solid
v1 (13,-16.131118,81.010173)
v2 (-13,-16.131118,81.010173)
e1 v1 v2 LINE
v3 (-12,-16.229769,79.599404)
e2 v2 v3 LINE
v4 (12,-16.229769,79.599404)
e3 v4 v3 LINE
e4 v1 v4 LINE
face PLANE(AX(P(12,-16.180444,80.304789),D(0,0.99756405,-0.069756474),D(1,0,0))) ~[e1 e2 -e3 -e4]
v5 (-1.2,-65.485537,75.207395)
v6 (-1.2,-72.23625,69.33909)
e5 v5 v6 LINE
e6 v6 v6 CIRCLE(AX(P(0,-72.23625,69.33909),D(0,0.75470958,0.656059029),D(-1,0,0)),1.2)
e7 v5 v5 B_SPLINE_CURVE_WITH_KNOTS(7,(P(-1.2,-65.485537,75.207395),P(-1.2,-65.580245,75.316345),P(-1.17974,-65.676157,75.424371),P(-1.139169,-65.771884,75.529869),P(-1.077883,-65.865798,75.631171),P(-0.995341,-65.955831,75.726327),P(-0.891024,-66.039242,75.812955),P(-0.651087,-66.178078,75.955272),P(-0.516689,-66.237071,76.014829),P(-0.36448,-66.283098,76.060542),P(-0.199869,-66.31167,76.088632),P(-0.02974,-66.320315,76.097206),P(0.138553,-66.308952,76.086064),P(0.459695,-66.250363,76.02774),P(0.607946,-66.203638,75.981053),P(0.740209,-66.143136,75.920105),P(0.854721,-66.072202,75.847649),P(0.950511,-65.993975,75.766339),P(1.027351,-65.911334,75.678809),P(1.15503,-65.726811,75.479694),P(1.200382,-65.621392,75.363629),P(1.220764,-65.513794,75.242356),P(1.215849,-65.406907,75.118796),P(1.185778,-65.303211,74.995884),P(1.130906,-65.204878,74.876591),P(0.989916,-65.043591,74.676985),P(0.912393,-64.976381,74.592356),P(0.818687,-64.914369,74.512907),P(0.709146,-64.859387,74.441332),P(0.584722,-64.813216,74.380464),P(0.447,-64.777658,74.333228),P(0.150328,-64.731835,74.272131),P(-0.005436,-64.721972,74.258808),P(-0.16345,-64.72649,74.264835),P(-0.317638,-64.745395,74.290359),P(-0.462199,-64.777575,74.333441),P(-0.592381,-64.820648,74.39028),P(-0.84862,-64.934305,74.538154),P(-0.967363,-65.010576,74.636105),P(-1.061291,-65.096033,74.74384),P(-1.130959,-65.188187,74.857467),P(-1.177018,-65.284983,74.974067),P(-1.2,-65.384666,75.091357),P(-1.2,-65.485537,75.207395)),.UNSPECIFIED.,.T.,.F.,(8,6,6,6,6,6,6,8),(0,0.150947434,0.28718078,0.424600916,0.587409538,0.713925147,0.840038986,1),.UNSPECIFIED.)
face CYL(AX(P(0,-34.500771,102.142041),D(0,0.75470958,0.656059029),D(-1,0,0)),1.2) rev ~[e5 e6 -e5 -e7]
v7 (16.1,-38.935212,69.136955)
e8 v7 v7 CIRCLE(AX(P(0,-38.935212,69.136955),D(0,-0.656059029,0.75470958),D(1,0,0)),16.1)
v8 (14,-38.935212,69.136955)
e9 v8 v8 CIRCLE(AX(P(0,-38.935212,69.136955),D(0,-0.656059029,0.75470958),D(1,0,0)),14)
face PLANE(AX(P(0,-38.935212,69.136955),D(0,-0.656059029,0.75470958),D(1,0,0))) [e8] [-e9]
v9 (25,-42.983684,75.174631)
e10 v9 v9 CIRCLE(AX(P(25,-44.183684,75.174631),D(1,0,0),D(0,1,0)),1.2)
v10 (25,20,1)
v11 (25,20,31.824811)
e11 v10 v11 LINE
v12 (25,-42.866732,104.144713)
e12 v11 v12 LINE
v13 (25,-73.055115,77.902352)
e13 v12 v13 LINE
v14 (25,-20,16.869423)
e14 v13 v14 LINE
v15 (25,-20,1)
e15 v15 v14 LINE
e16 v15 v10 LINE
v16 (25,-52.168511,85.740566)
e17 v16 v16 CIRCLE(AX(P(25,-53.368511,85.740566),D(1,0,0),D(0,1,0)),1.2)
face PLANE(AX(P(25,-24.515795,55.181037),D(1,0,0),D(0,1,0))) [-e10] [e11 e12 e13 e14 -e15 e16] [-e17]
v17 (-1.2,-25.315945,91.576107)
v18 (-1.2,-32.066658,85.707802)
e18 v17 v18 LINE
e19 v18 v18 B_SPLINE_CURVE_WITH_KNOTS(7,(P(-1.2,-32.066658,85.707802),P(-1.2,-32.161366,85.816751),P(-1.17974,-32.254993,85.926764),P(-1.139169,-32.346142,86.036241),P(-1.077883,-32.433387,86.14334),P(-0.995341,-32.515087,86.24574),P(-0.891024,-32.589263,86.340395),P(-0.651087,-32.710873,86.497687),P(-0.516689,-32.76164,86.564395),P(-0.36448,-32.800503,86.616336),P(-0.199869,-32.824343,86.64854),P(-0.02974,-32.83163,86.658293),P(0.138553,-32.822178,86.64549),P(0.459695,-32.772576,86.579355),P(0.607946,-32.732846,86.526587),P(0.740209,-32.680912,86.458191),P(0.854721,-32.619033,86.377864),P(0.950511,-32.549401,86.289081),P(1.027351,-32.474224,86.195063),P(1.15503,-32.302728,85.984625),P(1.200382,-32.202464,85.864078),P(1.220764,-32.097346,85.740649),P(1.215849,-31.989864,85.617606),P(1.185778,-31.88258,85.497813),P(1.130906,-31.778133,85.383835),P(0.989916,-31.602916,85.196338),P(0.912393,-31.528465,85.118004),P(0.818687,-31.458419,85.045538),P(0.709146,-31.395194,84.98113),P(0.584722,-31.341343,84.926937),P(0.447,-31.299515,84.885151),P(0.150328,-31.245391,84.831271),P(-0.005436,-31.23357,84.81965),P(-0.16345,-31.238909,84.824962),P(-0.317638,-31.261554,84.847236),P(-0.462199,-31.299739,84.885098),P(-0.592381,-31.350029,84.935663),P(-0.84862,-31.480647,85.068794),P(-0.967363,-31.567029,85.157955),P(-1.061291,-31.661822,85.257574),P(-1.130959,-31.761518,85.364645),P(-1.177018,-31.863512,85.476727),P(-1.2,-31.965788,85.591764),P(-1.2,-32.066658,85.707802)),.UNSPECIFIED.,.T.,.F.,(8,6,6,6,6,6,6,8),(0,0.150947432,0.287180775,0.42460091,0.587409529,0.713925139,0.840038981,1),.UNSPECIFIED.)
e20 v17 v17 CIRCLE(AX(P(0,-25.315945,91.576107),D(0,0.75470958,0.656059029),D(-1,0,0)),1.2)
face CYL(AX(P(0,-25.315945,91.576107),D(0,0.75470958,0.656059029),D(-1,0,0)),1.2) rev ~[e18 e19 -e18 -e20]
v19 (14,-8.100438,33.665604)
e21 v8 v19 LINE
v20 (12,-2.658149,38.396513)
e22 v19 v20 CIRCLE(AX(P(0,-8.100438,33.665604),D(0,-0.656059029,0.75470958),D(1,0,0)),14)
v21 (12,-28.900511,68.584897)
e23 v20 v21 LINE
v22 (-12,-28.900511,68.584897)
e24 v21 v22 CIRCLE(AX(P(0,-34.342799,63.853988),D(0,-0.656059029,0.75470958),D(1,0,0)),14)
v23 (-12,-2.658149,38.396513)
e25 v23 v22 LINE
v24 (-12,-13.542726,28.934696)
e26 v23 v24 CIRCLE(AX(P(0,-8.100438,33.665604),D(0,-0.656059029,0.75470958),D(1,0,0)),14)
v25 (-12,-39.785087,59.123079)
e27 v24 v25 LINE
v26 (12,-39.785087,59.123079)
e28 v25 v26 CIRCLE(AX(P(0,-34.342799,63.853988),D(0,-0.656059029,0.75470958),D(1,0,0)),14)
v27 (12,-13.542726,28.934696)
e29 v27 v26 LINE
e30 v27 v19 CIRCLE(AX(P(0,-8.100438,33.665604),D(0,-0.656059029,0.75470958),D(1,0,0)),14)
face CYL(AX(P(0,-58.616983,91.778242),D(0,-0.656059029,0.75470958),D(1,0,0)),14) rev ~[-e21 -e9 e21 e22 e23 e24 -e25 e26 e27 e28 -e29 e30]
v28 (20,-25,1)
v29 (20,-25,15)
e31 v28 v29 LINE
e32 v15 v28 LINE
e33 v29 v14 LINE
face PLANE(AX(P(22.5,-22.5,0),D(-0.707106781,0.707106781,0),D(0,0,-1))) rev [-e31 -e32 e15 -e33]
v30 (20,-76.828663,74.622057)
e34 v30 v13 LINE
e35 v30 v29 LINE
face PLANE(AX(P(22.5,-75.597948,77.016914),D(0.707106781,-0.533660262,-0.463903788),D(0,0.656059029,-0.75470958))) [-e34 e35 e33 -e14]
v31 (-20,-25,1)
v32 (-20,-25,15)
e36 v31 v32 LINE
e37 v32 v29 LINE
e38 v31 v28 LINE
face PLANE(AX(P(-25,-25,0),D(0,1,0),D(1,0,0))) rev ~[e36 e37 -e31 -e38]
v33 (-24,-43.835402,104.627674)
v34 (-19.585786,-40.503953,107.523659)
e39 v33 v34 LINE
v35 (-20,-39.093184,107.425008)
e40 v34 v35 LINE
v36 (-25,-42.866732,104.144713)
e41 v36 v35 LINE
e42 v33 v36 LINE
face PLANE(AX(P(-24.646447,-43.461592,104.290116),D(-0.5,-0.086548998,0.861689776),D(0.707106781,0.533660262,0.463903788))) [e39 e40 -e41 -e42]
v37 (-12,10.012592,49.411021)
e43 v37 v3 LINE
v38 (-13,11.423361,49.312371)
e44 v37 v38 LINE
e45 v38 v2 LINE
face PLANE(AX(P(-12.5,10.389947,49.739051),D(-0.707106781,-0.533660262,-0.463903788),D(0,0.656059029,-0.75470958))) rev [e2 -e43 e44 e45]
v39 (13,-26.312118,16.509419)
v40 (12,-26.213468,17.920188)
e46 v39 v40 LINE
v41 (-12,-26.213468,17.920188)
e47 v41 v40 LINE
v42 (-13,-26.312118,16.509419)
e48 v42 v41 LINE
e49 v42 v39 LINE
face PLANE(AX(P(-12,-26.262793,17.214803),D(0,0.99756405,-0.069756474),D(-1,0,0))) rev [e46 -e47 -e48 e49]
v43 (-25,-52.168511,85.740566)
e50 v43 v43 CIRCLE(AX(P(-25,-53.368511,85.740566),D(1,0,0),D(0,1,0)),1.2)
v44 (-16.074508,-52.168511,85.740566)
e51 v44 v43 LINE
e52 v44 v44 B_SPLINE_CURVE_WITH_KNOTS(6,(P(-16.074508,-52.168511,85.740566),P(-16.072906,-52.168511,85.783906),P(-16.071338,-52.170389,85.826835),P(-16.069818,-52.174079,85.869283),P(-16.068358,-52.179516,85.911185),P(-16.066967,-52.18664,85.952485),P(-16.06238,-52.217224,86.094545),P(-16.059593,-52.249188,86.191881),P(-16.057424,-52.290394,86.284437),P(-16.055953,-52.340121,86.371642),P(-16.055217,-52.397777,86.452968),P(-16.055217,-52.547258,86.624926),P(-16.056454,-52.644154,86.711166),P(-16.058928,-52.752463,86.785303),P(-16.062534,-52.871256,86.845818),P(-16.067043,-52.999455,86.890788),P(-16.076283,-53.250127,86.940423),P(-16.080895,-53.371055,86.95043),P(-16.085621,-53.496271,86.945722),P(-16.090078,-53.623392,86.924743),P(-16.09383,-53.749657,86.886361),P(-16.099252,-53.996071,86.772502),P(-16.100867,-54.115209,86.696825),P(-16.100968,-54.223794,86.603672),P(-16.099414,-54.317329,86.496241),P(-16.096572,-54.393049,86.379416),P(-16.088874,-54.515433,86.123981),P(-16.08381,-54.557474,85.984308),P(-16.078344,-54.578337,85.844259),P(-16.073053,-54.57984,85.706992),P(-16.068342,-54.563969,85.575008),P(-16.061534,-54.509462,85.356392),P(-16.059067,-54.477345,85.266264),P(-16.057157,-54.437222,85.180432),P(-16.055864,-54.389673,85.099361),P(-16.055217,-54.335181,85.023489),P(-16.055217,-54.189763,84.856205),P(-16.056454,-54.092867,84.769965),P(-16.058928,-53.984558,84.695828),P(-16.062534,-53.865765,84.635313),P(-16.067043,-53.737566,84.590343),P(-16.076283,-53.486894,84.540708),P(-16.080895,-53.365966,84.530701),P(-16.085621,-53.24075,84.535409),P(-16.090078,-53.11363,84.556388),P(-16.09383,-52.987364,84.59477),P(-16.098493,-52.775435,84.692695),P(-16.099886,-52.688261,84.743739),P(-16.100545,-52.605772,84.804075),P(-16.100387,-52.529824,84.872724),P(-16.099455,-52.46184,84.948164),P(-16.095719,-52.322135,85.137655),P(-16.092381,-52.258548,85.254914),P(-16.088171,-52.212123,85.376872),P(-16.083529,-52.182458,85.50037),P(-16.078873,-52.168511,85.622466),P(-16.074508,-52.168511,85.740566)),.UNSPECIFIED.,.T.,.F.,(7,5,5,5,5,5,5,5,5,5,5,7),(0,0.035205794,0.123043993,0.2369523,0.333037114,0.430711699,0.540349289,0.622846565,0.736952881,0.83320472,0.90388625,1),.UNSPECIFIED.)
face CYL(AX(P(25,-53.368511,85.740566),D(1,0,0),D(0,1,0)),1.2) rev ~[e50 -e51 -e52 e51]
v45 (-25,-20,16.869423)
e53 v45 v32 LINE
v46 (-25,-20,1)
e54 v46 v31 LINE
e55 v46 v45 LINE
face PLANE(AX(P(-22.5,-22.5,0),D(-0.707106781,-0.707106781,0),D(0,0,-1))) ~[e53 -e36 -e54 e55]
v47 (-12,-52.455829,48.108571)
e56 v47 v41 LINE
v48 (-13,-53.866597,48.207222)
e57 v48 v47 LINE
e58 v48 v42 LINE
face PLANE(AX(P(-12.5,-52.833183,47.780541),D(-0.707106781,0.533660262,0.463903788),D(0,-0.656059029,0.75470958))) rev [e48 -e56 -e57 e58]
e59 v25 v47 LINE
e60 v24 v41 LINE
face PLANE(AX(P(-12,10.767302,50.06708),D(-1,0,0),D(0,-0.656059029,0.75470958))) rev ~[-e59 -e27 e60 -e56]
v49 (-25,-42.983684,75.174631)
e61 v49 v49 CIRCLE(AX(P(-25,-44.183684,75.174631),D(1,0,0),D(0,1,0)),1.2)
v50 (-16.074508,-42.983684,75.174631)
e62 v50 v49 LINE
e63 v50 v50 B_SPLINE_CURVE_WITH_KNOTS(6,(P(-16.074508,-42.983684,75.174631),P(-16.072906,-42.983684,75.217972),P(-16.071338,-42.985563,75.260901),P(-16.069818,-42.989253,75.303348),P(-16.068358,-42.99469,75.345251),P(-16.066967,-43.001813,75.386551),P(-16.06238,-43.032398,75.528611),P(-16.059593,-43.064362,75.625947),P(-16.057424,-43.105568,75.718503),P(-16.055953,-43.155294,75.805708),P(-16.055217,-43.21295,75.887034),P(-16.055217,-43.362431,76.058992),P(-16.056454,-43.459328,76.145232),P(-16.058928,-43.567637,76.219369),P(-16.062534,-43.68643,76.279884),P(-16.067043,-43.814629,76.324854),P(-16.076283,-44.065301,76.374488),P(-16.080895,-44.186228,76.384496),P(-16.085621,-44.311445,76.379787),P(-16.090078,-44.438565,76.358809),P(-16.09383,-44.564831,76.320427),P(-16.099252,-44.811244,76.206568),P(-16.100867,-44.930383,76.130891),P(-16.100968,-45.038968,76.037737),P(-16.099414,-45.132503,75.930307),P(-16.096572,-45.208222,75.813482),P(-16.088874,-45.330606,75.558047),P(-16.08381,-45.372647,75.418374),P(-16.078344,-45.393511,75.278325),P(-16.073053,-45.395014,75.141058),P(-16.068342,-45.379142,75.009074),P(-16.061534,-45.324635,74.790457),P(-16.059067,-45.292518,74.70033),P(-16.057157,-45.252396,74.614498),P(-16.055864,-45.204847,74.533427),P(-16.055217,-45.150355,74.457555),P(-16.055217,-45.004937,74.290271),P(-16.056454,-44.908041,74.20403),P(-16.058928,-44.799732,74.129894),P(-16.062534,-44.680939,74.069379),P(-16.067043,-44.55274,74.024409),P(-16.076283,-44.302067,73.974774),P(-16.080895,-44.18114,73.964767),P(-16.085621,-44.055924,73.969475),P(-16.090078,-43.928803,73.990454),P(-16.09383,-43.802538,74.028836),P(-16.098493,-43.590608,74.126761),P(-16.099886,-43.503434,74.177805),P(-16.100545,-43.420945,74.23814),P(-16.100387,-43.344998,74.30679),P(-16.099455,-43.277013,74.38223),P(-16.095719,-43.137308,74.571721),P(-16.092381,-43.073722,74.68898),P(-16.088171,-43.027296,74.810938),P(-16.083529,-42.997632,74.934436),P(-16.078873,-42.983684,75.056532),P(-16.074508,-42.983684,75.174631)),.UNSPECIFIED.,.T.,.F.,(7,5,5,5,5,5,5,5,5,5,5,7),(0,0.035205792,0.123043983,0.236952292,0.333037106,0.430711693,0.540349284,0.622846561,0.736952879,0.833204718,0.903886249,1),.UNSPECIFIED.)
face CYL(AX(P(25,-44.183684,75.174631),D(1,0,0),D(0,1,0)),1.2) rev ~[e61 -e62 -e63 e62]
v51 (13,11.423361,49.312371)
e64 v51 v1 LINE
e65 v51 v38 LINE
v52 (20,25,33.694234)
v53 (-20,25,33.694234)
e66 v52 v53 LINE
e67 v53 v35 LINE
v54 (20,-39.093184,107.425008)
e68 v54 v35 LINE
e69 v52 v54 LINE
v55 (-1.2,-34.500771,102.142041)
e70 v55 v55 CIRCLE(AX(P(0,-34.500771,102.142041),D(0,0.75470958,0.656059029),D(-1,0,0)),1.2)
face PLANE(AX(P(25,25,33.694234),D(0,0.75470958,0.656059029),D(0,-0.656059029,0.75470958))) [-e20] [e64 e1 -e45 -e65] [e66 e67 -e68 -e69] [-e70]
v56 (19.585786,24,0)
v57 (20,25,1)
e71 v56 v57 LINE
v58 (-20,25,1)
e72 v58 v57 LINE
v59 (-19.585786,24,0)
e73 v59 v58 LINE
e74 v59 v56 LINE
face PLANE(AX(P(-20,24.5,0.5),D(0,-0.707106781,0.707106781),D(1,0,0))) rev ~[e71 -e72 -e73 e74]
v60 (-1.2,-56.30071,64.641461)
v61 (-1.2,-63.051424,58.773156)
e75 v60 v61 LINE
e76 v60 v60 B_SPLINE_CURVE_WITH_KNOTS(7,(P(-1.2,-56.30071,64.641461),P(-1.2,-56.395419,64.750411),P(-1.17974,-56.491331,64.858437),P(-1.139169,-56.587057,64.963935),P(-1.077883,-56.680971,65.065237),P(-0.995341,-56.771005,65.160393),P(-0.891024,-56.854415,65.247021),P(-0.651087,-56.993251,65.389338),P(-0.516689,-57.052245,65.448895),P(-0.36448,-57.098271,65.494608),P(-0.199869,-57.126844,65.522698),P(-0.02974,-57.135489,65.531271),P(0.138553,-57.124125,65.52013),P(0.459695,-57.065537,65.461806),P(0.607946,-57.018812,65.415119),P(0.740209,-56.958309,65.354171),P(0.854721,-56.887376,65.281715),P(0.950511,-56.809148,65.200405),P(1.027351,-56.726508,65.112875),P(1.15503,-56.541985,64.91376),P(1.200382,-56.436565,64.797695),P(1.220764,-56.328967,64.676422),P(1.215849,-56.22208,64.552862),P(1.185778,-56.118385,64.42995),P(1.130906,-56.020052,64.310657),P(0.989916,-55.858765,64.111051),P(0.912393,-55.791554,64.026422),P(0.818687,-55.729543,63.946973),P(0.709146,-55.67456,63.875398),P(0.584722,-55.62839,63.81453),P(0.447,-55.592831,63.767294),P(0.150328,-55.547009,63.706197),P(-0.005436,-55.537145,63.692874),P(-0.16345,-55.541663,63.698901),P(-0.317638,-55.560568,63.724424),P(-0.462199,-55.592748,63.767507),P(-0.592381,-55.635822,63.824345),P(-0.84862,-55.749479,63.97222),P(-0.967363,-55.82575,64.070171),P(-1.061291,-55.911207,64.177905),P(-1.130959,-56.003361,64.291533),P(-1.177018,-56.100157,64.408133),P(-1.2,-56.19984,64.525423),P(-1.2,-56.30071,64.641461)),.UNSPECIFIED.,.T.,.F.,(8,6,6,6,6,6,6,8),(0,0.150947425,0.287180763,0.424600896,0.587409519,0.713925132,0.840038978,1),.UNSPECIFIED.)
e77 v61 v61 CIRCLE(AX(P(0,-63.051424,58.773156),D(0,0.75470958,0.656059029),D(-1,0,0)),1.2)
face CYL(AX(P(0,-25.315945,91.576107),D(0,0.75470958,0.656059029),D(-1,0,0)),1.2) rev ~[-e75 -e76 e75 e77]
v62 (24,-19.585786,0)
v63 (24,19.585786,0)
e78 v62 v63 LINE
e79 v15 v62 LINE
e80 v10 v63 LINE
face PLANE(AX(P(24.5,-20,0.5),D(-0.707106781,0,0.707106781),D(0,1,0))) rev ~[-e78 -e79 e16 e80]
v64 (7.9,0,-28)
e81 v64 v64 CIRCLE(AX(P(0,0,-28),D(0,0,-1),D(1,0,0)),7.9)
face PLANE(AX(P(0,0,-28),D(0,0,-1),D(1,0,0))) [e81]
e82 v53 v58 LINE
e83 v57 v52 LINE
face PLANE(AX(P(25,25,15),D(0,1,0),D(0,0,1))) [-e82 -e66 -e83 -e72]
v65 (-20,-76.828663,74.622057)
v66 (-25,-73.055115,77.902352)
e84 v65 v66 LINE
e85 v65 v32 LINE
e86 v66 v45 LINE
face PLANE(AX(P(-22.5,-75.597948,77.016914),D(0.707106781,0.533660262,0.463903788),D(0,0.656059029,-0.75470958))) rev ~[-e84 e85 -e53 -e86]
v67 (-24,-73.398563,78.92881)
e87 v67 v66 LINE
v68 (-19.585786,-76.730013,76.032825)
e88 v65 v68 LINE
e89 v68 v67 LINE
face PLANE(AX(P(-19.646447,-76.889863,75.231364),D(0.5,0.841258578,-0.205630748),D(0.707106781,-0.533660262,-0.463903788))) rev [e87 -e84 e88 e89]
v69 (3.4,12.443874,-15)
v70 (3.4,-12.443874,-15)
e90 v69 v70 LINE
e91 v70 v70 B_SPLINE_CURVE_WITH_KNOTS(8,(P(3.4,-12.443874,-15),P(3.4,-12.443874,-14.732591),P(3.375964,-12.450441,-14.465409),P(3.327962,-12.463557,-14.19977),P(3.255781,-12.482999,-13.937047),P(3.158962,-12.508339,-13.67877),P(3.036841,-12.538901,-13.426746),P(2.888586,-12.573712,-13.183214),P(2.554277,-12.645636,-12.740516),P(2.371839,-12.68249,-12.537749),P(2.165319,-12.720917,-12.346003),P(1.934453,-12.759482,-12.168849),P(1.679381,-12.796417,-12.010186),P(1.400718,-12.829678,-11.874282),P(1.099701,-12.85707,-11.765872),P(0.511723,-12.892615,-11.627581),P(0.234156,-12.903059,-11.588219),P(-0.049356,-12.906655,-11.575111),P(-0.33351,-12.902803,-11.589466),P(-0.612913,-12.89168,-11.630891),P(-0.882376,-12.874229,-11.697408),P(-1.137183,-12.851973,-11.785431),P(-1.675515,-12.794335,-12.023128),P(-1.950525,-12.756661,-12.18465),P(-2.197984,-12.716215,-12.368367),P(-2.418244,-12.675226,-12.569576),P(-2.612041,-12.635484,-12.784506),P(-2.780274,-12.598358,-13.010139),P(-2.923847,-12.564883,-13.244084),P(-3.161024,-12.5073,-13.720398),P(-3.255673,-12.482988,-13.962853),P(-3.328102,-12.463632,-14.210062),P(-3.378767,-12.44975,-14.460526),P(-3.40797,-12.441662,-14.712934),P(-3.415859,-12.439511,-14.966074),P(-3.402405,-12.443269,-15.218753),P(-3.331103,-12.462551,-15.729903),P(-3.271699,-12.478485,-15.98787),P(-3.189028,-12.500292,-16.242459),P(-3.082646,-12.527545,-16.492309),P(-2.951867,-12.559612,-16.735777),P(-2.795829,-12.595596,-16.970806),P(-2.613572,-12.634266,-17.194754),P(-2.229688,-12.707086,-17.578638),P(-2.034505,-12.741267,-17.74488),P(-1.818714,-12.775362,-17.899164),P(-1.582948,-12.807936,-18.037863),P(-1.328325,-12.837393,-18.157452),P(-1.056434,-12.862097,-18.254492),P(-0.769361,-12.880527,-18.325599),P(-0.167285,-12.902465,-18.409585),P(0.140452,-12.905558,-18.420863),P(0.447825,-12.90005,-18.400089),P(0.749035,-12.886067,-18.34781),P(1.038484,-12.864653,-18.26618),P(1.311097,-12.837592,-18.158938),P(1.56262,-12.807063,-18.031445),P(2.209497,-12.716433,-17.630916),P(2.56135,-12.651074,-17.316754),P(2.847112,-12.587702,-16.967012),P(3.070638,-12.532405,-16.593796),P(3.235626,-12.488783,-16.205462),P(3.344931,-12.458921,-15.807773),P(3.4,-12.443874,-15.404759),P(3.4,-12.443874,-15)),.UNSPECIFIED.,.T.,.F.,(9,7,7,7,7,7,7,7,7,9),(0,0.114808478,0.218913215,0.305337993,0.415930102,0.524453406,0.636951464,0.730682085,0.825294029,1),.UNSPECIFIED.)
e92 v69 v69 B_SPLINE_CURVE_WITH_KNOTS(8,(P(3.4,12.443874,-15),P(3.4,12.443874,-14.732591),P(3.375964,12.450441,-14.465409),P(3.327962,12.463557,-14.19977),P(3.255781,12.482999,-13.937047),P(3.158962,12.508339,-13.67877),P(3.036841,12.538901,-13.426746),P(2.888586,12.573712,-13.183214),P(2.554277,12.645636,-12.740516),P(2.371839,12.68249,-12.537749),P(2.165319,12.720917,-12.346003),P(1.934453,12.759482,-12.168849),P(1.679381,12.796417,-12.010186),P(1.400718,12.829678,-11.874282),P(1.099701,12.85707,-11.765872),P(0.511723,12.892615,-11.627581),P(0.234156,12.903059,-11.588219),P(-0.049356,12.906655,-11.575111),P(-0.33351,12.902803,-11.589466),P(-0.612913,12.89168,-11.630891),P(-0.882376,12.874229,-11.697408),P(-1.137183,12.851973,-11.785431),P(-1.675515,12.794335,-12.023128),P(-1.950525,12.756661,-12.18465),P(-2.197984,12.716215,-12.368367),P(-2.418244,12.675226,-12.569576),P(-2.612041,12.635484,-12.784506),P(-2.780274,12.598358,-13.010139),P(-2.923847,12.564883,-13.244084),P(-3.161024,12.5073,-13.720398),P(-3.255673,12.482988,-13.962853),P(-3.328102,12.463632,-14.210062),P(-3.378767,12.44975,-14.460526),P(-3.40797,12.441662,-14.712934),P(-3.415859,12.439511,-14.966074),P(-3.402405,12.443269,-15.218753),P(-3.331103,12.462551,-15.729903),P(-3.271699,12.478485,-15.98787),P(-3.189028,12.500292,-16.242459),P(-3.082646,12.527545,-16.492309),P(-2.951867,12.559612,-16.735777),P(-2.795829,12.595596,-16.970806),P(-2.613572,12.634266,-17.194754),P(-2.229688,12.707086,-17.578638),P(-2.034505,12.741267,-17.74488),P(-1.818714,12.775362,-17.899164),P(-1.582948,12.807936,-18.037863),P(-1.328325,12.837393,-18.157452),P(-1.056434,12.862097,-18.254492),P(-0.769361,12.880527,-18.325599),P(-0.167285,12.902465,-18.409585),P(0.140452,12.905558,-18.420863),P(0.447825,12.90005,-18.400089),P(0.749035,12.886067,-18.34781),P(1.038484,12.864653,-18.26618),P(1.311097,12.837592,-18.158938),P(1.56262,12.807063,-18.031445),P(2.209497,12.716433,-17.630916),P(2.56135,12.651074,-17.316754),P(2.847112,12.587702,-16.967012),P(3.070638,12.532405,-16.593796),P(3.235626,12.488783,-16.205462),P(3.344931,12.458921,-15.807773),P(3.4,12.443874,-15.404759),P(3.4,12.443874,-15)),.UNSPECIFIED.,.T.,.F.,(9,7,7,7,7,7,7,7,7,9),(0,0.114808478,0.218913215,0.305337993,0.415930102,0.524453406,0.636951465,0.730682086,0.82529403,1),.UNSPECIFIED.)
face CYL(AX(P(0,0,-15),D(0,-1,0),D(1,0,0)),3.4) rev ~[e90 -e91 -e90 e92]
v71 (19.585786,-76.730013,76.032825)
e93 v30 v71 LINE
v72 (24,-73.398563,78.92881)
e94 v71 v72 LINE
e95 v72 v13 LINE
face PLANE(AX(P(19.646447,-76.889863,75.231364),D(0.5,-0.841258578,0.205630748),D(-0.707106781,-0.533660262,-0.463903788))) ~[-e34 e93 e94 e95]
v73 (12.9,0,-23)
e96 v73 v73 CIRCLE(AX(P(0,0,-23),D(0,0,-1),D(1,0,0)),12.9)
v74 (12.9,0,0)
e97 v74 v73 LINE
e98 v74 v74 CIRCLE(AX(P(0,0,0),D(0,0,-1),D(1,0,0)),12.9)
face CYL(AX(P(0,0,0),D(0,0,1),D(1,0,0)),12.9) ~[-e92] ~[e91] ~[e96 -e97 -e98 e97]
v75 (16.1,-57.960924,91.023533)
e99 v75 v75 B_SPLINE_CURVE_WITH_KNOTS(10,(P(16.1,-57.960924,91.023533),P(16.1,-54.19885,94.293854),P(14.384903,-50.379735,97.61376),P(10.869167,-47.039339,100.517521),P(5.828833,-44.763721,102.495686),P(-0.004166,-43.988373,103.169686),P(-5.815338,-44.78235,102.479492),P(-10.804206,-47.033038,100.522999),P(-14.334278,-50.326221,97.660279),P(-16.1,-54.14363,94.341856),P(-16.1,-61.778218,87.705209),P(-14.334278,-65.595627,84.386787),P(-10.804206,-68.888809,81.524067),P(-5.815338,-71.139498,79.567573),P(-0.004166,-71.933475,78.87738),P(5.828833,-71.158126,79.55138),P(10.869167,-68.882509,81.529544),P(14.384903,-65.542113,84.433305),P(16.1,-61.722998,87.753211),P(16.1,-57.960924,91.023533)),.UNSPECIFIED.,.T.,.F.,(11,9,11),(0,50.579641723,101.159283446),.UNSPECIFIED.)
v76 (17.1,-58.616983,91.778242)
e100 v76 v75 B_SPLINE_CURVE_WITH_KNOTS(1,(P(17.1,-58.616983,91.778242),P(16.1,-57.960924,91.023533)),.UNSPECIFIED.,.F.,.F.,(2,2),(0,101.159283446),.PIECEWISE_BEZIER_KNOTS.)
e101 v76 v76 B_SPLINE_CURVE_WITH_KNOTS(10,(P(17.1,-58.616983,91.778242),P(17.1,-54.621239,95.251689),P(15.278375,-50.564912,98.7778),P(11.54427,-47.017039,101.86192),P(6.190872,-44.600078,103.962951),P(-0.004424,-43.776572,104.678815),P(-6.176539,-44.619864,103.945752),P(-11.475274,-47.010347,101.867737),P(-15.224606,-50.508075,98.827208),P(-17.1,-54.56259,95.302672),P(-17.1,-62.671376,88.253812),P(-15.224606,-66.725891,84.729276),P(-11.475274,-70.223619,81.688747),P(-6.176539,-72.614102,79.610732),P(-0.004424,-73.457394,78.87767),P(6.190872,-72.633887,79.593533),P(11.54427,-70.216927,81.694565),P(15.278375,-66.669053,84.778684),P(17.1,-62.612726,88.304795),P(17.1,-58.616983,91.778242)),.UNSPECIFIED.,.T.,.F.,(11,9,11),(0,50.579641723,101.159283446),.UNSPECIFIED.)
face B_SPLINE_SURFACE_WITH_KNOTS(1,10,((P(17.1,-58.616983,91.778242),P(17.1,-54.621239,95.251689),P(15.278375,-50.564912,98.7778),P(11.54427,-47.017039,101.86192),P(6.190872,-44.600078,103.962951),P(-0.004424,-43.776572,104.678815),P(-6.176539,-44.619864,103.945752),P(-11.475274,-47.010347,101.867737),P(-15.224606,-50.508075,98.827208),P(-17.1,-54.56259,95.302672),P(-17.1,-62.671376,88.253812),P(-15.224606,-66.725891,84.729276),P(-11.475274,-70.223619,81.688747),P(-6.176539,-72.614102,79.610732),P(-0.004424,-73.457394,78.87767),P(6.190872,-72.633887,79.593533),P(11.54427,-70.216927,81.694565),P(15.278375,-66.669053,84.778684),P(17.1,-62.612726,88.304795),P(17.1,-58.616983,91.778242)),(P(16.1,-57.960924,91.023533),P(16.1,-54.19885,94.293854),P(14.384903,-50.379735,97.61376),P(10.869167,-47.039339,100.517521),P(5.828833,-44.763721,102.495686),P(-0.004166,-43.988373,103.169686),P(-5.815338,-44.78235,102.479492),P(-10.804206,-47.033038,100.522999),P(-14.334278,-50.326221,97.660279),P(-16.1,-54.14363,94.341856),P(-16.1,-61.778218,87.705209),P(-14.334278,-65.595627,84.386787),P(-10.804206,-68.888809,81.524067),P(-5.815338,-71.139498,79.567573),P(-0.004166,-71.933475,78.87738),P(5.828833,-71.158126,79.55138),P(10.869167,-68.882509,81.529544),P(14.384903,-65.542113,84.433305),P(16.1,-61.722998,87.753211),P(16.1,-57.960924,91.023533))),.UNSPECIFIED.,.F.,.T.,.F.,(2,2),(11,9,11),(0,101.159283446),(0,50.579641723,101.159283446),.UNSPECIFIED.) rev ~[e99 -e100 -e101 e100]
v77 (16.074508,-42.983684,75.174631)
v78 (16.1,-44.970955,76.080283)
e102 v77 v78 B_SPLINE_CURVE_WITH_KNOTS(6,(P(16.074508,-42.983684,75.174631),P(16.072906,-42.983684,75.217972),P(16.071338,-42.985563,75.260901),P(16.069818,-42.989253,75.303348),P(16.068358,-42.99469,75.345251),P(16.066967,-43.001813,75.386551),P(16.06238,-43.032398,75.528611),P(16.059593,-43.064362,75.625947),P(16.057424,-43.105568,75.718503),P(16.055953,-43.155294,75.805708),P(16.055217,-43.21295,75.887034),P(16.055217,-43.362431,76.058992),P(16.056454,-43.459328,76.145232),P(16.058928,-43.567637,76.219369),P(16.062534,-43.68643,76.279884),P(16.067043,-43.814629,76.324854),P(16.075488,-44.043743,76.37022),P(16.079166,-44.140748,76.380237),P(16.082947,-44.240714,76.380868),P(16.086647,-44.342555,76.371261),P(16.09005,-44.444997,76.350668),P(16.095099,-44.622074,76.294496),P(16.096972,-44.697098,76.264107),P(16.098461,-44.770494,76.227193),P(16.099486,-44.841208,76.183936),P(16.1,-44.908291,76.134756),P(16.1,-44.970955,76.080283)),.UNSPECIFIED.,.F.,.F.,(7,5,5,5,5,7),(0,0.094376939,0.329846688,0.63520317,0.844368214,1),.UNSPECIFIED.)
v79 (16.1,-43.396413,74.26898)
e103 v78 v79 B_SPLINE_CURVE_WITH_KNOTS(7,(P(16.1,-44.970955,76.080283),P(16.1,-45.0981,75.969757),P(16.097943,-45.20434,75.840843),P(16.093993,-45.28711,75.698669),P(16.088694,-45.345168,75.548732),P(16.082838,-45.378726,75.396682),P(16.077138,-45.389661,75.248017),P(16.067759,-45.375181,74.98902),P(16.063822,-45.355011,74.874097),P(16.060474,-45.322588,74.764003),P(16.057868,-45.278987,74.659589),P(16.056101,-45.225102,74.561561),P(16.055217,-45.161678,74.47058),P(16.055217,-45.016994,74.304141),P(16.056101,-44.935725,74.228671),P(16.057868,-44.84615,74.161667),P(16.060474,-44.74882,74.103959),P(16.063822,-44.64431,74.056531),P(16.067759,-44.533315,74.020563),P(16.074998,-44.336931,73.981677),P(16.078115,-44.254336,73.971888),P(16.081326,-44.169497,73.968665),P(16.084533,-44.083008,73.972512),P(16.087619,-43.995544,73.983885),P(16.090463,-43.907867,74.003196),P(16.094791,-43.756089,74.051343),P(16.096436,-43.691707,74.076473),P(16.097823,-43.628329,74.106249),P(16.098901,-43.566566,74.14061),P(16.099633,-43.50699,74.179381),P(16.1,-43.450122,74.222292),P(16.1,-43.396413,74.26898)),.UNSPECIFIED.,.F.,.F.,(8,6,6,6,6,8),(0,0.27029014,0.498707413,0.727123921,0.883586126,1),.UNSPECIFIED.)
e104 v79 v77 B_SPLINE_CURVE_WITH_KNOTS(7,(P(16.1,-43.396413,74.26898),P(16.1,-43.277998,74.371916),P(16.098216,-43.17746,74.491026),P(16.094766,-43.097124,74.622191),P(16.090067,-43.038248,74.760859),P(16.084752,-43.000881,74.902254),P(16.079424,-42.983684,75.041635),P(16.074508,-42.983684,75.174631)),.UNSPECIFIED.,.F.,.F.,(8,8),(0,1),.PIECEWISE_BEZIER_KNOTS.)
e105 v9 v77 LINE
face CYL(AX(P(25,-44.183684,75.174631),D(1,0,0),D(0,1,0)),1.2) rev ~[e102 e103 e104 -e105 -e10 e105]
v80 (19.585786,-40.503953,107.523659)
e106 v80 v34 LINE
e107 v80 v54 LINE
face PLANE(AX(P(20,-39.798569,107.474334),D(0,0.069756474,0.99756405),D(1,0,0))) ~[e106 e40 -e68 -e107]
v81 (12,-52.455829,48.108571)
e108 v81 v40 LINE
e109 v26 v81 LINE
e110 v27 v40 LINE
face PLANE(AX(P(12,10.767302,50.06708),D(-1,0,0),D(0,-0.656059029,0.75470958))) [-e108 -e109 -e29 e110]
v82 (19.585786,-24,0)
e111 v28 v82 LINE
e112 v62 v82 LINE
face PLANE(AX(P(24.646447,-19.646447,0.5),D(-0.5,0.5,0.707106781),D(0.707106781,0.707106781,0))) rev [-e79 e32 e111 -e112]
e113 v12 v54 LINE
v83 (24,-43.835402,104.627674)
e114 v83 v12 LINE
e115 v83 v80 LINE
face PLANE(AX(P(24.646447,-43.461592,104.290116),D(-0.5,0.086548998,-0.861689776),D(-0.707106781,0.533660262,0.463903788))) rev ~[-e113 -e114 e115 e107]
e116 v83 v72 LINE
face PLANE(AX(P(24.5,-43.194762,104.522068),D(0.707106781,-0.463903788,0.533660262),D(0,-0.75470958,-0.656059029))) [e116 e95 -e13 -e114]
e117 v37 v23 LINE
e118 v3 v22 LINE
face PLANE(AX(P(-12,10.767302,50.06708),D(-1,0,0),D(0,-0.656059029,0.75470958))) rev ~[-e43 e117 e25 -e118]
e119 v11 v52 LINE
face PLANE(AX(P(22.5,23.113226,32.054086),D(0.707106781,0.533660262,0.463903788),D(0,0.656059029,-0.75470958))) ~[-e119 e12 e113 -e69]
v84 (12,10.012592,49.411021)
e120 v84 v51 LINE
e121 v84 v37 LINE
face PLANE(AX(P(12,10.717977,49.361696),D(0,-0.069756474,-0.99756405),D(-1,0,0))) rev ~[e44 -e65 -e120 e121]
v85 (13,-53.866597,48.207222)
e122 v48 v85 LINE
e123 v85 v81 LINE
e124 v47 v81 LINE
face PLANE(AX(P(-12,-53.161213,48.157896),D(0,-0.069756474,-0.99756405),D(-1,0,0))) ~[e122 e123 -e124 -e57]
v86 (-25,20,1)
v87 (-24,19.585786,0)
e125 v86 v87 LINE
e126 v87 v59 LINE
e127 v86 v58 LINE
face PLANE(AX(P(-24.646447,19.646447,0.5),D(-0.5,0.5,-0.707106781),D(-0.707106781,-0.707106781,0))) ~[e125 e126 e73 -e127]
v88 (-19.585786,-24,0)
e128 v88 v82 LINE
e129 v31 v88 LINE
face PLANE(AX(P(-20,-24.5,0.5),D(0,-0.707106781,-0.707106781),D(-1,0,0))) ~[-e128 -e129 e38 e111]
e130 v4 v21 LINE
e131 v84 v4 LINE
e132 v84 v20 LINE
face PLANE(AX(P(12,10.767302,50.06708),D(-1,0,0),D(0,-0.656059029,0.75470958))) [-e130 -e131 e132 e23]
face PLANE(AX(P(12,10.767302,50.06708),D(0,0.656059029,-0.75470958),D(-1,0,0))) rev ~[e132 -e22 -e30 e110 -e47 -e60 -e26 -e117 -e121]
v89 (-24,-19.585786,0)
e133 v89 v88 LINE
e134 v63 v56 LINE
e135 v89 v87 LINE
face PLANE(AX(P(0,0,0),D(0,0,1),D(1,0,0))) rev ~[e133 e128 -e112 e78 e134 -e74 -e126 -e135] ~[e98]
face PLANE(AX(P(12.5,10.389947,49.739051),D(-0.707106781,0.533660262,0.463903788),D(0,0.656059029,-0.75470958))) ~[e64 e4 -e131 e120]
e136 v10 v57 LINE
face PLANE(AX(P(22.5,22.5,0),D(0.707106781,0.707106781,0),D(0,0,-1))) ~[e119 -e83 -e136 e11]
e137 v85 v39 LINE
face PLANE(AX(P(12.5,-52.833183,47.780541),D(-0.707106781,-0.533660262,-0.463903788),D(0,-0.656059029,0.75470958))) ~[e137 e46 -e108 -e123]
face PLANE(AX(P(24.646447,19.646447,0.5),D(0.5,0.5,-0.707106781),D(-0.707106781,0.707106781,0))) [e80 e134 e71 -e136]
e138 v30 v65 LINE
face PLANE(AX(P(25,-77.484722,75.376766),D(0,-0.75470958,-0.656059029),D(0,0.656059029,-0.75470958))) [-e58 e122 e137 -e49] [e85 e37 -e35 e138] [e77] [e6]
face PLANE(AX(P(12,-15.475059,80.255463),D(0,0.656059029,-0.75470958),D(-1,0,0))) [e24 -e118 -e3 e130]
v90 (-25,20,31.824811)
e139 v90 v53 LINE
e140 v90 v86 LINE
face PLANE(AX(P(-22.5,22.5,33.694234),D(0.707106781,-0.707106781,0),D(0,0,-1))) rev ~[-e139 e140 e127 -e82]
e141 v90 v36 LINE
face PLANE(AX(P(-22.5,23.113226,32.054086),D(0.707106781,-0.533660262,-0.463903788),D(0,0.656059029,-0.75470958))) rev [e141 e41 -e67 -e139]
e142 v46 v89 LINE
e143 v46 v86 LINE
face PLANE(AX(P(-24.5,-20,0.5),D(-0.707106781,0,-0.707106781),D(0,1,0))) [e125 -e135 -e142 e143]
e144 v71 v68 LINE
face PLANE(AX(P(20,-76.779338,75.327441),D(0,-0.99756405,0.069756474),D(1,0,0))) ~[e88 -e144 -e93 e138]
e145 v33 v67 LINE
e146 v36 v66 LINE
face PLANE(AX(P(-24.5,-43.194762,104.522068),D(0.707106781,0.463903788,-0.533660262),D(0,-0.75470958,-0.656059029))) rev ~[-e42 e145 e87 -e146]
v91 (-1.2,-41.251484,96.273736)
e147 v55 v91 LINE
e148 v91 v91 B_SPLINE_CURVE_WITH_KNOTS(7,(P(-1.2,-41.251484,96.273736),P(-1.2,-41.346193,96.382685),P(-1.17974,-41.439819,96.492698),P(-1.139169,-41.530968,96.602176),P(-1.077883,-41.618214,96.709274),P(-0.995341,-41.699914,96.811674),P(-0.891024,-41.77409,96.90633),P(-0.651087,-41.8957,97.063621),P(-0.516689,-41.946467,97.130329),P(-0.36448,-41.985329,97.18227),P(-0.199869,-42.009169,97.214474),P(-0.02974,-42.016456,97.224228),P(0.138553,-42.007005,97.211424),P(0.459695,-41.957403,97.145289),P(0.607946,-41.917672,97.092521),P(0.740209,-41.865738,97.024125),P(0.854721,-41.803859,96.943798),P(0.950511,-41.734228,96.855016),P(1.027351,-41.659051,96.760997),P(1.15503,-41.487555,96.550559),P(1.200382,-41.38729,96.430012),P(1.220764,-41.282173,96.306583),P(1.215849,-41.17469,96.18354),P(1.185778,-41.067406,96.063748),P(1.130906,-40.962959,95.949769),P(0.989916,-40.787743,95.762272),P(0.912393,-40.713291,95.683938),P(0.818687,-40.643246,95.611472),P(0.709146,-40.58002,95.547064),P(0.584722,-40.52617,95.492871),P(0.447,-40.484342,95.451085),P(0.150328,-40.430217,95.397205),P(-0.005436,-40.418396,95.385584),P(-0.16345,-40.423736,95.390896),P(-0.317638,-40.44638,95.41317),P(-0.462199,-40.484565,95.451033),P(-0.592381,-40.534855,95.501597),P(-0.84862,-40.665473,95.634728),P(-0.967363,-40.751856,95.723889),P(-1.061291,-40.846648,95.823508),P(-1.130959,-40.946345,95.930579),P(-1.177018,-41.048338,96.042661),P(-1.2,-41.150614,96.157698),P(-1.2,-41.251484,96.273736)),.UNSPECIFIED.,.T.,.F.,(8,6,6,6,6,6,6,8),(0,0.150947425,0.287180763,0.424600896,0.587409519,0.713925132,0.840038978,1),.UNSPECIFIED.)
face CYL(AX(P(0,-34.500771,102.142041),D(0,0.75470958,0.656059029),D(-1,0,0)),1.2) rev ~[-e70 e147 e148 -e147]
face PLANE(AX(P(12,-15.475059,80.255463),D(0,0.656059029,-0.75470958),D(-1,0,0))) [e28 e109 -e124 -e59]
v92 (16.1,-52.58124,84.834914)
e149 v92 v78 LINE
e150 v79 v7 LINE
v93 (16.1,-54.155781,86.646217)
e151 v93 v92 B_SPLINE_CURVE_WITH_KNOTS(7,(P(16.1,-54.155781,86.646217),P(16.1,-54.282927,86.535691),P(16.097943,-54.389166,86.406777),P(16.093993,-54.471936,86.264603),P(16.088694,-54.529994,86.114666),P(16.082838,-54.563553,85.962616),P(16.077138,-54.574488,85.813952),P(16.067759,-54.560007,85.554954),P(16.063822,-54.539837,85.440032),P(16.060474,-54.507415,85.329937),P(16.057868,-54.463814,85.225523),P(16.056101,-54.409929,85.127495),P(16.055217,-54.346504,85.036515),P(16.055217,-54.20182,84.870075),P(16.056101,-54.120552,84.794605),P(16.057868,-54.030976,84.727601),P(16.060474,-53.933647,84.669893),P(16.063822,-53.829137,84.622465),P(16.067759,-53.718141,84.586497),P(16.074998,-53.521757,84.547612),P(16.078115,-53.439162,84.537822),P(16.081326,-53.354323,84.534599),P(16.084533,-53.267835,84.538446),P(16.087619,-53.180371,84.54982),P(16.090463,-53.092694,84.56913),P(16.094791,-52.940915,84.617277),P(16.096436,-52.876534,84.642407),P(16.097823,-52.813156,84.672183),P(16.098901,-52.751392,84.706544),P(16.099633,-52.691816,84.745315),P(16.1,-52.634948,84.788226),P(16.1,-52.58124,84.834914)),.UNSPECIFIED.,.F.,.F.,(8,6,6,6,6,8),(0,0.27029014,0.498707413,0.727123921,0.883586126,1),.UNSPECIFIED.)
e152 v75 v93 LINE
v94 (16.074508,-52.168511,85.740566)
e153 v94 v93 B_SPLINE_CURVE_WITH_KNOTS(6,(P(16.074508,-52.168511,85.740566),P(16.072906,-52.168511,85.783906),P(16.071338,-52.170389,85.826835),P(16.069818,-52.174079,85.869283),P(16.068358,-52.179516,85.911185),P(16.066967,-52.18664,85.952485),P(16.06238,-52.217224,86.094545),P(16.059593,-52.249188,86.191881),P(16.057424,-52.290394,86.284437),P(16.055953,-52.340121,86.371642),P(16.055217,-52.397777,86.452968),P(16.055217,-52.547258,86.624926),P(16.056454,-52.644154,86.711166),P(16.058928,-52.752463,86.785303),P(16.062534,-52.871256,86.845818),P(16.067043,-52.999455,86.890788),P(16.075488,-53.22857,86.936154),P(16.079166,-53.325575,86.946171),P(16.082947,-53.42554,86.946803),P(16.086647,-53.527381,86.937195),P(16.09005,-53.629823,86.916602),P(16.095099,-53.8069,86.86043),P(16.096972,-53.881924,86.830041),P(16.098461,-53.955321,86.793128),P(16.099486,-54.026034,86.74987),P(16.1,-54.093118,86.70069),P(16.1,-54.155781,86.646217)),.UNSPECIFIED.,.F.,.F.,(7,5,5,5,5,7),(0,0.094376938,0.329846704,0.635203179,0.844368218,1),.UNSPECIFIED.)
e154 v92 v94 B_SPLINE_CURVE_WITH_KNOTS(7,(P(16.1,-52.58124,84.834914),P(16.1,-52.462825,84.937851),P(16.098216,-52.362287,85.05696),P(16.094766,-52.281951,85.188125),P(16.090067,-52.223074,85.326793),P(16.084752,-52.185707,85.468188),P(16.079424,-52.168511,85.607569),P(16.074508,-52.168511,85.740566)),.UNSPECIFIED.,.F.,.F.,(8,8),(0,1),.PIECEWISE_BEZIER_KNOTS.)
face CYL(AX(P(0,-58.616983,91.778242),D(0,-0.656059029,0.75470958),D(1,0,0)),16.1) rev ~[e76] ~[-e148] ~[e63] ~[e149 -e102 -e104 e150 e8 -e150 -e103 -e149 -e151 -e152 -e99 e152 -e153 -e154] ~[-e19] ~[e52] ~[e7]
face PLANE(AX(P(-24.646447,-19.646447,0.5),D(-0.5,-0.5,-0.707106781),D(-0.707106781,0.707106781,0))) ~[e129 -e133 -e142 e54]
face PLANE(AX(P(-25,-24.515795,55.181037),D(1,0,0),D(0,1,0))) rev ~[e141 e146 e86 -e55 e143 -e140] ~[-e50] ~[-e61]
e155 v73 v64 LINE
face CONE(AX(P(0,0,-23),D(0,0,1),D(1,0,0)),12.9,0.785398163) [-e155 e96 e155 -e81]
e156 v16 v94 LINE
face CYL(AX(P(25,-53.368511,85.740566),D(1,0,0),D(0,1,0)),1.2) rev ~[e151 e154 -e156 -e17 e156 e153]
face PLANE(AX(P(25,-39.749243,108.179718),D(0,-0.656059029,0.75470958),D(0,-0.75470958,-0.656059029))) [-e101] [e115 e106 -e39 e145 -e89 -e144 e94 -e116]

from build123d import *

# Parameters (mm, degrees)
F0_W      = 50
F0_H      = 50
F1_DEPTH  = 15
F2_R      = 12.9
F3_DEPTH  = 28
F4_R      = 3.4
F5_DEPTH  = 21
F7_DEPTH  = 50
F8_R      = 14
F9_DEPTH  = 77
F10_R     = 16.1
F11_DEPTH = 30
F12_W     = 24
F12_H     = 40
F13_DEPTH = 117.8222610619
F14_R     = 1.2
F15_DEPTH = 117.8222610619
F16_R     = 1.2
F17_DEPTH = 50.001
F18_SIZE  = 5
F19_SIZE  = 1


with BuildPart() as f1:
    # F0 (on Top) → F1 (new body)
    with BuildSketch(Plane.XY):
        Rectangle(F0_W, F0_H)
    extrude(amount=F1_DEPTH)

    # F2 (on face) → F3 (join)
    with BuildSketch(Plane(origin=(0, 0, 0), x_dir=(1, 0, 0), z_dir=(0, 0, -1))):
        Circle(F2_R)
    extrude(amount=F3_DEPTH)

    # F4 (on Front) → F5 (cut, symmetric)
    with BuildSketch(Plane.XZ):
        with Locations((0, -15)):
            Circle(F4_R)
    extrude(amount=F5_DEPTH, both=True, mode=Mode.SUBTRACT)

    # F6 (on face) → F7 (join)
    with BuildSketch(Plane.YZ.offset(25)):
        Polygon((-77.4847223192, 75.3767664178), (-25, 15), (25, 15), (25, 33.6942339742), (-39.7492433081, 108.1797178673), align=None)
    extrude(amount=-F7_DEPTH)

    # F8 (on face) → F9 (cut)
    with BuildSketch(Plane(origin=(0, -70.6720690728, 81.2989155343), x_dir=(1, 0, 0), z_dir=(0, -0.656059029, 0.7547095802))):
        with Locations((0, 15.9731459293)):
            Circle(F8_R)
    extrude(amount=-F9_DEPTH, mode=Mode.SUBTRACT)

    # F10 (on face) → F11 (cut)
    with BuildSketch(Plane(origin=(0, -70.6720690728, 81.2989155343), x_dir=(1, 0, 0), z_dir=(0, -0.656059029, 0.7547095802))):
        with Locations((0, 15.9731459293)):
            Circle(F10_R)
    extrude(amount=-F11_DEPTH, mode=Mode.SUBTRACT)

    # F12 (on face) → F13 (cut, through all)
    with BuildSketch(Plane(origin=(0, 30.9228257647, 26.8808023331), x_dir=(-1, 0, 0), z_dir=(0, 0.7547095802, 0.656059029))):
        with Locations((0, 50.7221194281)):
            Rectangle(F12_W, F12_H)
    extrude(amount=-F13_DEPTH, mode=Mode.SUBTRACT)

    # F14 (on face) → F15 (cut, through all)
    with BuildSketch(Plane(origin=(0, 30.9228257647, 26.8808023331), x_dir=(-1, 0, 0), z_dir=(0, 0.7547095802, 0.656059029))):
        with Locations((0, 99.7221194281)):
            Circle(F14_R)
        with Locations((0, 85.7221194281)):
            Circle(F14_R)
    extrude(amount=-F15_DEPTH, mode=Mode.SUBTRACT)

    # F16 (on face) → F17 (cut, through all)
    with BuildSketch(Plane.YZ.offset(25)):
        with Locations((-53.3685105817, 85.7405655008)):
            Circle(F16_R)
        with Locations((-44.1836841759, 75.1746313777)):
            Circle(F16_R)
    extrude(amount=-F17_DEPTH, mode=Mode.SUBTRACT)

    # F18
    f18_edges = [f1.edges().sort_by_distance(p)[0] for p in [
        (-12.9, 0, -28),
        (25, -51.242361, 45.188383),
        (25, -25, 7.5),
        (25, 25, 16.847117),
        (25, -7.374622, 70.936976),
        (-25, 25, 16.847117),
        (-25, -7.374622, 70.936976),
        (-25, -25, 7.5),
        (-25, -51.242361, 45.188383),
    ]]
    chamfer(f18_edges, length=F18_SIZE)

    # F19
    f19_edges = [f1.edges().sort_by_distance(p)[0] for p in [
        (-16.1, -58.616983, 91.778242),
        (12, -40.089358, 32.35832),
        (0, -53.210538, 47.452512),
        (-12, -40.089358, 32.35832),
        (0, -26.968177, 17.264129),
        (0, 10.767302, 50.06708),
        (-12, -2.353879, 65.161272),
        (12, -2.353879, 65.161272),
        (0, -15.475059, 80.255463),
        (-25, 0, 0),
        (-22.5, -22.5, 0),
        (0, -25, 0),
        (22.5, -22.5, 0),
        (25, 0, 0),
        (22.5, 22.5, 0),
        (0, 25, 0),
        (-22.5, 22.5, 0),
        (0, -77.484722, 75.376766),
        (-22.5, -75.597948, 77.016914),
        (-25, -58.616983, 91.778242),
        (25, -58.616983, 91.778242),
        (22.5, -75.597948, 77.016914),
        (22.5, -41.636017, 106.53957),
        (0, -39.749243, 108.179718),
        (-22.5, -41.636017, 106.53957),
    ]]
    chamfer(f19_edges, length=F19_SIZE)


solid = f1.part
